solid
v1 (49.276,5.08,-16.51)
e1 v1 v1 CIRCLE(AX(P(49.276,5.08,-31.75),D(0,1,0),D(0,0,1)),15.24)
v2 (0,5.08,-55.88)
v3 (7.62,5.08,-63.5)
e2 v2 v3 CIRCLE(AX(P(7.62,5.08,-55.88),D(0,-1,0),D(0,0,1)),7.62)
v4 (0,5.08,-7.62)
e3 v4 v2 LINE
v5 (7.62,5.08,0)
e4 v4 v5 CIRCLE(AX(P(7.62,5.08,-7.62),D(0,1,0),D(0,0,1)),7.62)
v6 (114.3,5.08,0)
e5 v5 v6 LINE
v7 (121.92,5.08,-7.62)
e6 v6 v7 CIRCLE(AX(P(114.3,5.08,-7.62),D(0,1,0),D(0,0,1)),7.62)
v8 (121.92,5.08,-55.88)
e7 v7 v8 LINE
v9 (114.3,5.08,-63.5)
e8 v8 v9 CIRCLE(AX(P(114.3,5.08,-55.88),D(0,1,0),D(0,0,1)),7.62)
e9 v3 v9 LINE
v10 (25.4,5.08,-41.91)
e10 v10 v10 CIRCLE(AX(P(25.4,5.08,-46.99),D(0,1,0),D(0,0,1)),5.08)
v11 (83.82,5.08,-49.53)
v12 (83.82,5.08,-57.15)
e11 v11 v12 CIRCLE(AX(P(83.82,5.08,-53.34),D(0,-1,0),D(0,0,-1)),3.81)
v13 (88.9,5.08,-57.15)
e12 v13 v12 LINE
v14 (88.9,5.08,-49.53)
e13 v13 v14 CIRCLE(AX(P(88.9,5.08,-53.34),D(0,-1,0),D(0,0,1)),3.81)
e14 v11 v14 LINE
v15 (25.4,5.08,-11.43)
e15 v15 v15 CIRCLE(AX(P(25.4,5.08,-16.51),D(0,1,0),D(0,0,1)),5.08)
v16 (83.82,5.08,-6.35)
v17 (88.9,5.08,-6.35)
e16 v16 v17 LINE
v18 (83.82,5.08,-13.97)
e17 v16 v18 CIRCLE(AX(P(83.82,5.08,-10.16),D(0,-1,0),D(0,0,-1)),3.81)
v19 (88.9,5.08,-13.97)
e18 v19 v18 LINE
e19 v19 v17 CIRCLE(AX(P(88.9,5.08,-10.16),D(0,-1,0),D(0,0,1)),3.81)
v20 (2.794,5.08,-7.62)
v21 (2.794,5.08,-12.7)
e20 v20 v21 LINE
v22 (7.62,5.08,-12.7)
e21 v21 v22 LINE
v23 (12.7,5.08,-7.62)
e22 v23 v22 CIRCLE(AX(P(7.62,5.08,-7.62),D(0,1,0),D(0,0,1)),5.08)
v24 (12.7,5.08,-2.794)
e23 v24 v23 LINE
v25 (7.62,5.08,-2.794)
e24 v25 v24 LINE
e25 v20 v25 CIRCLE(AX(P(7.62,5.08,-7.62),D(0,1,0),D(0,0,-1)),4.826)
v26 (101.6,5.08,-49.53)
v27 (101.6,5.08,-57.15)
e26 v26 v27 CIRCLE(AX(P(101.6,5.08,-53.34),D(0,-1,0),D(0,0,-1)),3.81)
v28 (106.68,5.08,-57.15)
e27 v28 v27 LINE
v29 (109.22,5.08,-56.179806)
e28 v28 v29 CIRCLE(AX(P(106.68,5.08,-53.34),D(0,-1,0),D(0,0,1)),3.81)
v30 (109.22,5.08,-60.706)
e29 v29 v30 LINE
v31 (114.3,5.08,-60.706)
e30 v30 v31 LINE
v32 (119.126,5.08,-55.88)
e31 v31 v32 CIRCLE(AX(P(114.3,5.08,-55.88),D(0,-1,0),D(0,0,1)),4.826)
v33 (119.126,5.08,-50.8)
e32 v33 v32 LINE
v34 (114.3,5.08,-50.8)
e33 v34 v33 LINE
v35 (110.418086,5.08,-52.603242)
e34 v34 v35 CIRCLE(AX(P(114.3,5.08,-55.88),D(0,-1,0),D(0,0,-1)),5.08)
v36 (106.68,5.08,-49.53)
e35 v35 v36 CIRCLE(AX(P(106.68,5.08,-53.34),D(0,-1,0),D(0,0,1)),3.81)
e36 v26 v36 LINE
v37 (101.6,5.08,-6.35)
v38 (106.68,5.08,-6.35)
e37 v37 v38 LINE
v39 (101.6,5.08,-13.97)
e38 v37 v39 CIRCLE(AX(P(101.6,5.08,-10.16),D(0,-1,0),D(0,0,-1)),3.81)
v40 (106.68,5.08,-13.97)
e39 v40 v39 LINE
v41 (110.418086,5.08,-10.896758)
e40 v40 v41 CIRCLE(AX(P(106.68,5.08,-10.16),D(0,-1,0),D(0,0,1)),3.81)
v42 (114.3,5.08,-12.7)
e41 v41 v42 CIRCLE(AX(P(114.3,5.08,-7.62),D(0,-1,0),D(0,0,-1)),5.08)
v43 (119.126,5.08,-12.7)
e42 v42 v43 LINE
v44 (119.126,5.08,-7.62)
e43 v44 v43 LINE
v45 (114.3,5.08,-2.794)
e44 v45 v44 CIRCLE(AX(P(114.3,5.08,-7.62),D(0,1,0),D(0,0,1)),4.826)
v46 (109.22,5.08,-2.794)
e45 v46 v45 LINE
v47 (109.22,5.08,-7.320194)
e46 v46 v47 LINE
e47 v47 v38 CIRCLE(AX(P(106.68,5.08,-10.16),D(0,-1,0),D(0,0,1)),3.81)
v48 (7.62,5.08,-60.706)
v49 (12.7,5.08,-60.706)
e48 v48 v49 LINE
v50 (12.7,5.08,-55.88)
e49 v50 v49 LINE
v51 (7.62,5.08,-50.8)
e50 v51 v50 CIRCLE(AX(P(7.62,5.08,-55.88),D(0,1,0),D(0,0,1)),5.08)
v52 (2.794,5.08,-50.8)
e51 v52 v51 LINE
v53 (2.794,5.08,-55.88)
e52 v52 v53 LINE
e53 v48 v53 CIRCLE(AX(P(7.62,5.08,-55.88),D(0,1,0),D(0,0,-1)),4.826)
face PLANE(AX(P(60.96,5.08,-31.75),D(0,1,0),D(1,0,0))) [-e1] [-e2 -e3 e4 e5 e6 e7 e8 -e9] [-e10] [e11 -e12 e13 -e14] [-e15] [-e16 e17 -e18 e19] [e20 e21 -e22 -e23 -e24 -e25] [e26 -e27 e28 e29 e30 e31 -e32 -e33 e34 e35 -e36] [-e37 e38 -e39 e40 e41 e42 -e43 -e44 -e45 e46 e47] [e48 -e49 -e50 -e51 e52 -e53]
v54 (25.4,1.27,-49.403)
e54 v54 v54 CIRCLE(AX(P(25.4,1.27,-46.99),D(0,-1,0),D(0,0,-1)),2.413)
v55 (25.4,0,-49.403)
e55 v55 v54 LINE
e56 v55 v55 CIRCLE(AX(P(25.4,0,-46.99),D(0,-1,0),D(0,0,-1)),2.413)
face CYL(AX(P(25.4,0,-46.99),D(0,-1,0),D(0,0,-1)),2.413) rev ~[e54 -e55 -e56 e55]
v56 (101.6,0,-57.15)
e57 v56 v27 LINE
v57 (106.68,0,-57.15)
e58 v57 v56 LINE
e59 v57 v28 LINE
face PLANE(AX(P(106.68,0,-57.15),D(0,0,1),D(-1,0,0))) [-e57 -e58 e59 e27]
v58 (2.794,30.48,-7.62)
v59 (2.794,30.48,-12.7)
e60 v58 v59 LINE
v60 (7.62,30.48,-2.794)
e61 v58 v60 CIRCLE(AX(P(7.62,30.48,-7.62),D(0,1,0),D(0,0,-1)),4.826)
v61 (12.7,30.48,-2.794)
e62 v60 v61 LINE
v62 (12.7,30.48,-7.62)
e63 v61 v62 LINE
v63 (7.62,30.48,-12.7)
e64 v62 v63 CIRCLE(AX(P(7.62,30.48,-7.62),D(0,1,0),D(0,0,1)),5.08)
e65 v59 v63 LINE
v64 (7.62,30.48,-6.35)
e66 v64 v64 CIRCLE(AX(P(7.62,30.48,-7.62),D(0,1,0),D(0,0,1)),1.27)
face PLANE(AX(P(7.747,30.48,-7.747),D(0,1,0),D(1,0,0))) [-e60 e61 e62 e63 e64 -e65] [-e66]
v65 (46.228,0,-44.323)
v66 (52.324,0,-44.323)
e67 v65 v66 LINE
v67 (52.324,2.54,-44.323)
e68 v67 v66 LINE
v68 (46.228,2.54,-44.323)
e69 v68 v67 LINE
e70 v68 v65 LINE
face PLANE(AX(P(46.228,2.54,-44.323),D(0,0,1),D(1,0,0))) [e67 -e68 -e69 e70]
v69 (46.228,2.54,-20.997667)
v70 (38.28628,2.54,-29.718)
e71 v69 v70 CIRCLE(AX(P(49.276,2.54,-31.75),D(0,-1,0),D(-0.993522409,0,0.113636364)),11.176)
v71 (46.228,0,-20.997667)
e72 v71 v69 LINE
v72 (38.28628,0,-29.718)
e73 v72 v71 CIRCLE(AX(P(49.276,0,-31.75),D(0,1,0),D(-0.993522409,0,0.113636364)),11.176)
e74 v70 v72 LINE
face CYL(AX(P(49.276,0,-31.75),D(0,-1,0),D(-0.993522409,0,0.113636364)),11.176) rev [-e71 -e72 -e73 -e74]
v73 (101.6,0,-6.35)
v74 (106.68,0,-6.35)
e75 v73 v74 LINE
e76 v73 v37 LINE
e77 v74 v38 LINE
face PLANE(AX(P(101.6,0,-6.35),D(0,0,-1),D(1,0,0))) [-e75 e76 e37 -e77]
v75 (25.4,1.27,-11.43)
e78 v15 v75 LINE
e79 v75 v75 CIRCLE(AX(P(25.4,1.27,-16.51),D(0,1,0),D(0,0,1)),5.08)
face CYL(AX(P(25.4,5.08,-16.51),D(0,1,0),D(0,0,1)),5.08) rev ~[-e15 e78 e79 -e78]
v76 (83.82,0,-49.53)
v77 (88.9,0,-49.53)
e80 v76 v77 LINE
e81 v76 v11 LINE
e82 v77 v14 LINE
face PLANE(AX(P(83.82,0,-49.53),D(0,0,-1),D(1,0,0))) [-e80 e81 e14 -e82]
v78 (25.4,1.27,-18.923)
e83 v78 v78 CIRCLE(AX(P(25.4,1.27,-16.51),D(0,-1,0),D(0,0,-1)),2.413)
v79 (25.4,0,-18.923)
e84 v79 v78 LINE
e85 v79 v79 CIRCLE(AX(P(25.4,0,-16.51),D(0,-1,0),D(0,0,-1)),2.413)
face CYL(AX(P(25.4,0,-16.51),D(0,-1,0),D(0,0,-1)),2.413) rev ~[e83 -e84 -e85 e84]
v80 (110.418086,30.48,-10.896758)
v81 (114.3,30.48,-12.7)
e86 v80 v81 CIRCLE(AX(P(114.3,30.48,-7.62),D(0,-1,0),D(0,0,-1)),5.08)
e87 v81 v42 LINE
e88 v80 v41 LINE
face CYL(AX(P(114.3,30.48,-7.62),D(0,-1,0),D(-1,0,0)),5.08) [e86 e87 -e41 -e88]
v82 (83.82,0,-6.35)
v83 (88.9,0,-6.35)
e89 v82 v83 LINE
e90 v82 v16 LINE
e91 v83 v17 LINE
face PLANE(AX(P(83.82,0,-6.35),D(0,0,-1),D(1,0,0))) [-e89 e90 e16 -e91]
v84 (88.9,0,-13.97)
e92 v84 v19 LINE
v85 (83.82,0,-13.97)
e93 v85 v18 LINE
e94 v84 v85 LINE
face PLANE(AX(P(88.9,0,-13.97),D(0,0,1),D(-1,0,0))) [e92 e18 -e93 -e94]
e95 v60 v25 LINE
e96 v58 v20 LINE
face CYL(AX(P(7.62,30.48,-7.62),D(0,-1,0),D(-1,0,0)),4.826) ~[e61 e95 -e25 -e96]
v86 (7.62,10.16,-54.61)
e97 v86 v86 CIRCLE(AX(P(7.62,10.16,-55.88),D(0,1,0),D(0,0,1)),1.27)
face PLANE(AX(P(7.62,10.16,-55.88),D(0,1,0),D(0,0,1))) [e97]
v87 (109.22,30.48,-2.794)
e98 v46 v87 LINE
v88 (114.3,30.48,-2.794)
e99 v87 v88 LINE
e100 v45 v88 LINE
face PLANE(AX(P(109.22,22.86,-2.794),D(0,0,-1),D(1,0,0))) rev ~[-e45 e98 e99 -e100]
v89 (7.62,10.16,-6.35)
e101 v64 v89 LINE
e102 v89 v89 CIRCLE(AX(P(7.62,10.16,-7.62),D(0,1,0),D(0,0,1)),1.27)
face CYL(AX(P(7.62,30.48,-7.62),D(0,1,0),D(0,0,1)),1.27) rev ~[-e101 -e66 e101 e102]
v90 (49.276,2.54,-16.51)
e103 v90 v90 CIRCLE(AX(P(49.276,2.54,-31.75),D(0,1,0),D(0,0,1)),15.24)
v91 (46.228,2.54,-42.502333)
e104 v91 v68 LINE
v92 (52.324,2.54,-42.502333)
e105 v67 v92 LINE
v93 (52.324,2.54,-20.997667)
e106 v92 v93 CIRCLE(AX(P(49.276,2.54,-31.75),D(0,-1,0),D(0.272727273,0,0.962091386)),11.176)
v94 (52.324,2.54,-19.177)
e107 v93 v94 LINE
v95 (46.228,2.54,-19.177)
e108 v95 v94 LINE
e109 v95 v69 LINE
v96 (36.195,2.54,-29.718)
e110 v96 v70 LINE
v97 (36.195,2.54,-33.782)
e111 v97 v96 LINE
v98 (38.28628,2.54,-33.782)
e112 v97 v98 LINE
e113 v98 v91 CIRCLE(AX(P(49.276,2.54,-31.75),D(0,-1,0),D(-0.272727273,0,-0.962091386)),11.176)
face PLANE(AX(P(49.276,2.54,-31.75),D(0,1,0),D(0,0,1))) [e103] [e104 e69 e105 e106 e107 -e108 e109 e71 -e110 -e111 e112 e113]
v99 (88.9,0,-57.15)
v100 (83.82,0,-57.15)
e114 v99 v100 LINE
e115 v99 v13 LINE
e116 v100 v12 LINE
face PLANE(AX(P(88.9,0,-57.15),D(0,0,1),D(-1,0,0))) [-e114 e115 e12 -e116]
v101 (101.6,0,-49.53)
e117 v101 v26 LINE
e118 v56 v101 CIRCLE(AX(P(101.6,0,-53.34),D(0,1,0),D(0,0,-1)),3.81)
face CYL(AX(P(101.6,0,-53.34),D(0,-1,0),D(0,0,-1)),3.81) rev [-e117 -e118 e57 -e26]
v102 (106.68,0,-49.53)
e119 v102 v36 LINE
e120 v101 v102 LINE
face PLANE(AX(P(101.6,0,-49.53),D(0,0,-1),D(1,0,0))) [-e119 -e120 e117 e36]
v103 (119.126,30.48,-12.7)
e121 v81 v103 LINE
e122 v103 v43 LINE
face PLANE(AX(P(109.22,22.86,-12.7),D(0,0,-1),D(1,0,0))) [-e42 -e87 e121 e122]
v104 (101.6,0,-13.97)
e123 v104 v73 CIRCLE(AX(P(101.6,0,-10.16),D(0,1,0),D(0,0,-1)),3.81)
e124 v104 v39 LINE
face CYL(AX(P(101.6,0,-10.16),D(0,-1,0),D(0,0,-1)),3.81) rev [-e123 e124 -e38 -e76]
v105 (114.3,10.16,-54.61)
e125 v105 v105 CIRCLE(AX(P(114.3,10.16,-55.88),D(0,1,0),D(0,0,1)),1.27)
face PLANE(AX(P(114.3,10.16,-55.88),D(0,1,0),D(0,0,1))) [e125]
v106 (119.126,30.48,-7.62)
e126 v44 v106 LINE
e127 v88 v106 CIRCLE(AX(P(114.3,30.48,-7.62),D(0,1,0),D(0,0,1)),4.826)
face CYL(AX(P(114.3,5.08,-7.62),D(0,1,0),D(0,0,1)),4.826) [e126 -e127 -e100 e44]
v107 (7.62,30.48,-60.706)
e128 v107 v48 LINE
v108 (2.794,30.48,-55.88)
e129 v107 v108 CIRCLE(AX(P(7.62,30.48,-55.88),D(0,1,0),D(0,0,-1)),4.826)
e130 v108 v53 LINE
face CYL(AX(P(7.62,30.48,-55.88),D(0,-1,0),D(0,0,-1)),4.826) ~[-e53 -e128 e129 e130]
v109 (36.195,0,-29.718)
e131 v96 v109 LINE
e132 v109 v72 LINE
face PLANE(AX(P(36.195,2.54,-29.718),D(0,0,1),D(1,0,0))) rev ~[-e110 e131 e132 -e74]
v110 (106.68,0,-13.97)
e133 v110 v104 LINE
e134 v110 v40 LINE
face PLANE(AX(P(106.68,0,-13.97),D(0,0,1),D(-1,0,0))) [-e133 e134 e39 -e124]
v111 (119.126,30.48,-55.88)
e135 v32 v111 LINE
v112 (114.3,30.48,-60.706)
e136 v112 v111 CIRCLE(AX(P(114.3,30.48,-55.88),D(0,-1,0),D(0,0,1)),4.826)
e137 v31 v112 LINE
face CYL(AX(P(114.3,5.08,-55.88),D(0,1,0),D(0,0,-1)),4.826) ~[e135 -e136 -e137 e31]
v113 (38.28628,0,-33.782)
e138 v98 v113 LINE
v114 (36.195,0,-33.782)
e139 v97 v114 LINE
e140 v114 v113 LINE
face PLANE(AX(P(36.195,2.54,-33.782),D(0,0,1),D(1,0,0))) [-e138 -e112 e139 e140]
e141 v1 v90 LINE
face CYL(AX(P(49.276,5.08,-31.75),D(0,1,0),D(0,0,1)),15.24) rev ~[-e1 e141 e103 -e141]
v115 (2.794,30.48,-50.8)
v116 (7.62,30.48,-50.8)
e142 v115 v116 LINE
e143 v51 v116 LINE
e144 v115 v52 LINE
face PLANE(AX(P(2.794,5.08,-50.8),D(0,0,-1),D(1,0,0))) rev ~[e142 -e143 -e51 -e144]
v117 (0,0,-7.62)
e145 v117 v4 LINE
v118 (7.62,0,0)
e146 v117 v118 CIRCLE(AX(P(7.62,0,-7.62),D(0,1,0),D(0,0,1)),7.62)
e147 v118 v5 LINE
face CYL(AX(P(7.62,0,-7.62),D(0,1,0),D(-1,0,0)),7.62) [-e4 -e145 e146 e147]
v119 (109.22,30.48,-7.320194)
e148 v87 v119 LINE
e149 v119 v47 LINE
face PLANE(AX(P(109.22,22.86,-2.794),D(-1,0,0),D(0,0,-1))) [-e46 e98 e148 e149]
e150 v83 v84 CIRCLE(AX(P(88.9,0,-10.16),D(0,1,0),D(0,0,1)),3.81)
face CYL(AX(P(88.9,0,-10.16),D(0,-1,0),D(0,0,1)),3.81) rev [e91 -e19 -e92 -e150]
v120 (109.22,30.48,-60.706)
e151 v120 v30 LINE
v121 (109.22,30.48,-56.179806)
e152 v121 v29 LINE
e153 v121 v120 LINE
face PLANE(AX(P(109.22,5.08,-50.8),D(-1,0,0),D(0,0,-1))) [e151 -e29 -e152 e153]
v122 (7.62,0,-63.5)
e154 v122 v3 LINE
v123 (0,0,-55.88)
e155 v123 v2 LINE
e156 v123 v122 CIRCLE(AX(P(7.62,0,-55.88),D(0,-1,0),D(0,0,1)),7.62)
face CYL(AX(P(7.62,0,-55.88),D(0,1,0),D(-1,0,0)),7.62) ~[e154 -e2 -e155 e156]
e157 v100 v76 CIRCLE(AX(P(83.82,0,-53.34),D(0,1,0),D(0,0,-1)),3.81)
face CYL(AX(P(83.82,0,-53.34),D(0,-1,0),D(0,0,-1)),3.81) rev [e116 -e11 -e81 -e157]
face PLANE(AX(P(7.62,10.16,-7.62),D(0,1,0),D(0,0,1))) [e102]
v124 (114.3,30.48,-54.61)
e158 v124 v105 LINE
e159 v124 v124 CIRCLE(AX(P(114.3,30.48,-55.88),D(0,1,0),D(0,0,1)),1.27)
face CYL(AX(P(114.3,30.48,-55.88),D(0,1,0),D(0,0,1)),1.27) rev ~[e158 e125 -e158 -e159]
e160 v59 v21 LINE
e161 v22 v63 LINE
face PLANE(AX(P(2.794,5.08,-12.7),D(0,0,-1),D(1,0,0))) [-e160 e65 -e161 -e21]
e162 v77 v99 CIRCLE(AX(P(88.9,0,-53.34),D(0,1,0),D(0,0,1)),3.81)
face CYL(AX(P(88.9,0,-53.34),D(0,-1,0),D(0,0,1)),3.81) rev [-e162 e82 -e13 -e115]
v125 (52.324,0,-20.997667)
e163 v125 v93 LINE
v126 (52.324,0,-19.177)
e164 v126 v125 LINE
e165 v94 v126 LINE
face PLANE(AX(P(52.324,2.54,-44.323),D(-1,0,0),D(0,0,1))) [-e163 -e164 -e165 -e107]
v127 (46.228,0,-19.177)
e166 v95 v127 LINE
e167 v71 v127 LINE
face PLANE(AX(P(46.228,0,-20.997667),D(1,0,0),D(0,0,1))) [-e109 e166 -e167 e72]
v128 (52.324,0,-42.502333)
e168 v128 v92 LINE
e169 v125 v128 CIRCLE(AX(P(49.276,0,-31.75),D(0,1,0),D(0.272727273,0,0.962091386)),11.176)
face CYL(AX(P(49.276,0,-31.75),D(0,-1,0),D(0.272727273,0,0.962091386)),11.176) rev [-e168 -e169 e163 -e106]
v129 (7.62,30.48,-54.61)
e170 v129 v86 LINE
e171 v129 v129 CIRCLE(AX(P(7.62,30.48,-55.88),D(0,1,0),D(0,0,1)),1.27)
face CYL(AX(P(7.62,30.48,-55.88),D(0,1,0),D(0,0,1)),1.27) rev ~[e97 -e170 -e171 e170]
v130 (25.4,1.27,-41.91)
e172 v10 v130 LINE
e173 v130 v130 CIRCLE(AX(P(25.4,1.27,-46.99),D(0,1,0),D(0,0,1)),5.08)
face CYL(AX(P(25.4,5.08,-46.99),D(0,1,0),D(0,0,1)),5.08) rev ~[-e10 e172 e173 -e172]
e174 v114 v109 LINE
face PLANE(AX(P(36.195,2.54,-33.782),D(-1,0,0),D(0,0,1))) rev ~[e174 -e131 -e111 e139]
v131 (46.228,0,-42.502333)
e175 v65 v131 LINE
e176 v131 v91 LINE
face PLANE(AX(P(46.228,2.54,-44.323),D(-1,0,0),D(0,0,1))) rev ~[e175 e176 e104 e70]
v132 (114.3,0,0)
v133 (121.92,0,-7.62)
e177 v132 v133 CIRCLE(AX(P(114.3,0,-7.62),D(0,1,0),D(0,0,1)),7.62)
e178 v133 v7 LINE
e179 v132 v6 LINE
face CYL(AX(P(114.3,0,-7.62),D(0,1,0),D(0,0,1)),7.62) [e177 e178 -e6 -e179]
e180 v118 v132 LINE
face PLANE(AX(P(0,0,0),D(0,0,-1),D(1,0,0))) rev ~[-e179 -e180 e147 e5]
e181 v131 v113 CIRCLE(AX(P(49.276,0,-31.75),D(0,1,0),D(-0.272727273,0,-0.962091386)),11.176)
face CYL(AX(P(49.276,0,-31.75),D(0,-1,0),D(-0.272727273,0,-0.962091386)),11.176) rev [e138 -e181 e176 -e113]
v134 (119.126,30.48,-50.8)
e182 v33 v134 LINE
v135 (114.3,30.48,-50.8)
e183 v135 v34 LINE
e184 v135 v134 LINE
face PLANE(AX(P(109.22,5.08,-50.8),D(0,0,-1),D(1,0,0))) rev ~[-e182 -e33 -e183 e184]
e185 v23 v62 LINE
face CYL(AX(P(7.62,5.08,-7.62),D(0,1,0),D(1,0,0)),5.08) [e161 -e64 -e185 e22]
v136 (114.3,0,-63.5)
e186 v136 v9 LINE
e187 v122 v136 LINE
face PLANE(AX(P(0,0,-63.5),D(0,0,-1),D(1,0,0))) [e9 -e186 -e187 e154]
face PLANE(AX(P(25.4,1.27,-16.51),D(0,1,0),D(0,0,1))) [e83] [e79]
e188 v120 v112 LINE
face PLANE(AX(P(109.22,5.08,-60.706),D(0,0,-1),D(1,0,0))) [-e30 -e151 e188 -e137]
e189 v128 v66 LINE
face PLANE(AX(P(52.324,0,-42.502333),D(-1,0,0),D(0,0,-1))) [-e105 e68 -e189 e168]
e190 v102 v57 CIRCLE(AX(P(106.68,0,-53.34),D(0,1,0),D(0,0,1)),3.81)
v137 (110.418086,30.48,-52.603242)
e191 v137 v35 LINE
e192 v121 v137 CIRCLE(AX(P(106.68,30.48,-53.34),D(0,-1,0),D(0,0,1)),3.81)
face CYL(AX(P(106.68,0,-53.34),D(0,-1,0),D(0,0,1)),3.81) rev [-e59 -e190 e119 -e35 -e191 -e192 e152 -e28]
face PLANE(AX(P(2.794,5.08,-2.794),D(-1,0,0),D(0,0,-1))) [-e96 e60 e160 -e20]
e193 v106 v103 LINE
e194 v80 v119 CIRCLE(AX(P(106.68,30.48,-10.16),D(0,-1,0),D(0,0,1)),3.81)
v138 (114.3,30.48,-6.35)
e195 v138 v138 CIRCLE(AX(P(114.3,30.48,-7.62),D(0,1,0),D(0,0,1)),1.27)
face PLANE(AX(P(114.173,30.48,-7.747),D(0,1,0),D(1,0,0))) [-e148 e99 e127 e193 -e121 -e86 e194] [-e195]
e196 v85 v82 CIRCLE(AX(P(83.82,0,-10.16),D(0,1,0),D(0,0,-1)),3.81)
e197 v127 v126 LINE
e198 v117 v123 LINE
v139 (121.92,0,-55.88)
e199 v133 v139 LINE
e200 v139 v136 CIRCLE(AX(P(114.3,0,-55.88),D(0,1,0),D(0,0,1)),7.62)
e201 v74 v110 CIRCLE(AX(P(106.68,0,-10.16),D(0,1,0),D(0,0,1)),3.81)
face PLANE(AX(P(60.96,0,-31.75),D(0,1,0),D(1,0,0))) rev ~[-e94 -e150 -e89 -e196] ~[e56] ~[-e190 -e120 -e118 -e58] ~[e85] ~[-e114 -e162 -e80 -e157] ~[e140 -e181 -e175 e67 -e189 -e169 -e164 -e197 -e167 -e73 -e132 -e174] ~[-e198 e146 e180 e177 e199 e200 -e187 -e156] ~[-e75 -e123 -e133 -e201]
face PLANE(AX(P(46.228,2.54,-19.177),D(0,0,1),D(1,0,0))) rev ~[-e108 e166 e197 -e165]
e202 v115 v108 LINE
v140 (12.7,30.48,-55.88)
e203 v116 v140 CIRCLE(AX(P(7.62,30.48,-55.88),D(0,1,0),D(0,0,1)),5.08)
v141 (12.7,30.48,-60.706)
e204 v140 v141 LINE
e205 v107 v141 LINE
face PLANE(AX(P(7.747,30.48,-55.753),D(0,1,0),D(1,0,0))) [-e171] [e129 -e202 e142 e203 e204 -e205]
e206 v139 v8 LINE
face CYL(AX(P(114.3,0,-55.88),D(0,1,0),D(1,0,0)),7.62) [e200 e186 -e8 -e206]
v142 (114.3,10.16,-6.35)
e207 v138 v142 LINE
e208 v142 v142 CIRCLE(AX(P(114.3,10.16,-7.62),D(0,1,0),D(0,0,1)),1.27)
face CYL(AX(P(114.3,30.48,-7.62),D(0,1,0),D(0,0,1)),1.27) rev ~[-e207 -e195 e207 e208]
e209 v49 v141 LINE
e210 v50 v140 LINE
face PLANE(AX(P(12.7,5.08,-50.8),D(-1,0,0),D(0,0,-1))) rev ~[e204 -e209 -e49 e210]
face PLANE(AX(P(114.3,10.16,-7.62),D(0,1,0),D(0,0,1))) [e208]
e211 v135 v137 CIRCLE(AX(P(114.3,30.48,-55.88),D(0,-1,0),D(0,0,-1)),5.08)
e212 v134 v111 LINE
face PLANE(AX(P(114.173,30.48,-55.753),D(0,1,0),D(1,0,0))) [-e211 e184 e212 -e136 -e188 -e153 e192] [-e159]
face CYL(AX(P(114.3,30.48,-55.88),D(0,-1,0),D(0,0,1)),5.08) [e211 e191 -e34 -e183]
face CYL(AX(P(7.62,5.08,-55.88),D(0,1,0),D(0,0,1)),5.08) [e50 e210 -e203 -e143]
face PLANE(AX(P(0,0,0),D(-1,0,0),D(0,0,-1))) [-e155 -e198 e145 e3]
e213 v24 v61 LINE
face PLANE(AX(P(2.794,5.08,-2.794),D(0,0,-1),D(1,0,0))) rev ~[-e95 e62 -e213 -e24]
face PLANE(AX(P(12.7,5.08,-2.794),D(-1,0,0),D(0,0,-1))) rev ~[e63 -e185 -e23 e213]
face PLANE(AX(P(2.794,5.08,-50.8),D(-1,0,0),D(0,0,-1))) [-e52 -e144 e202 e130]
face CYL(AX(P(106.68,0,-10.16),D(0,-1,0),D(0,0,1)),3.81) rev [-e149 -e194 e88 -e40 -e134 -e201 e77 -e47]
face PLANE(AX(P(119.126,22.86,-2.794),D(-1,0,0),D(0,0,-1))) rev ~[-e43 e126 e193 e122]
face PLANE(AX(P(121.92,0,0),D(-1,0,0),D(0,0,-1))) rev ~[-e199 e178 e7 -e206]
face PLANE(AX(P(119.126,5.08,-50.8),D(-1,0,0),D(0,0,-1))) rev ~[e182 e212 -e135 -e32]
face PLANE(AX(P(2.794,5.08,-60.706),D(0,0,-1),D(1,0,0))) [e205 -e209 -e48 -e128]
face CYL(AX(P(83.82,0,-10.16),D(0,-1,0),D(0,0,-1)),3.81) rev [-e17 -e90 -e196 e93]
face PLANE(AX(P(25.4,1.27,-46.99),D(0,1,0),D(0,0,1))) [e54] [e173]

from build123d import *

# Parameters (mm, degrees)
SKETCH1_W           = 121.92
SKETCH1_H           = 63.5
BOSS_EXTRUDE1_DEPTH = 5.08
FILLET1_R           = 7.62
SKETCH2_W           = 9.906
SKETCH2_H           = 9.906
BOSS_EXTRUDE2_DEPTH = 22.86
CUT_EXTRUDE2_REACH  = 142.276
SKETCH5_R           = 10.9982
CUT_EXTRUDE3_REACH  = 142.276
SKETCH6_R           = 1.9939
SKETCH7_R           = 5.08
CUT_EXTRUDE4_DEPTH  = 3.81
SKETCH8_R           = 15.24
CUT_EXTRUDE5_DEPTH  = 2.54
CUT_EXTRUDE6_REACH  = 142.276
SKETCH9_R           = 2.159
CUT_EXTRUDE7_REACH  = 142.276
SKETCH11_W          = 143.390320112
SKETCH11_H          = 95.839563071
CUT_EXTRUDE8_DEPTH  = 5.08
SKETCH14_W          = 9.906
SKETCH14_H          = 9.906
BOSS_EXTRUDE4_DEPTH = 7.62
FILLET2_R           = 4.826
FILLET3_R           = 5.08
SKETCH15_R          = 1.27
CUT_EXTRUDE10_DEPTH = 20.32
CUT_EXTRUDE11_REACH = 142.804
SKETCH16_R          = 2.413
CUT_EXTRUDE12_START = -2.54
SKETCH17_W          = 6.096
SKETCH17_H          = 25.146
SKETCH17_W_2        = 2.38136189
SKETCH17_H_2        = 4.064
CUT_EXTRUDE12_DEPTH = 2.54
CUT_EXTRUDE13_REACH = 142.804


with BuildPart() as part:
    # Sketch1 → Boss-Extrude1 (new body)
    with BuildSketch(Plane(origin=(0, 0, 0), x_dir=(1, 0, 0), z_dir=(0, 1, 0))):
        with Locations((60.96, 31.75)):
            Rectangle(SKETCH1_W, SKETCH1_H)
    extrude(amount=BOSS_EXTRUDE1_DEPTH)

    # Fillet1
    fillet1_edges = [part.edges().sort_by_distance(p)[0] for p in [
        (0, 2.54, -63.5),
        (121.92, 2.54, -63.5),
        (121.92, 2.54, 0),
        (0, 2.54, 0),
    ]]
    fillet(fillet1_edges, radius=FILLET1_R)

    # Sketch2 → Boss-Extrude2 (add)
    with BuildSketch(Plane(origin=(0, 5.08, 0), x_dir=(1, 0, 0), z_dir=(0, 1, 0))):
        with Locations((7.747, 55.753)):
            Rectangle(SKETCH2_W, SKETCH2_H)
        with Locations((114.173, 55.753)):
            Rectangle(SKETCH2_W, SKETCH2_H)
        with Locations((114.173, 7.747)):
            Rectangle(SKETCH2_W, SKETCH2_H)
        with Locations((7.747, 7.747)):
            Rectangle(SKETCH2_W, SKETCH2_H)
    extrude(amount=BOSS_EXTRUDE2_DEPTH)

    # Sketch5 → Cut-Extrude2 (cut, up to next)
    with BuildSketch(Plane.XZ, mode=Mode.PRIVATE) as cut_extrude2_sk1:
        with Locations(Location((49.276, -31.75, 0), (0, 0, 270))):
            Circle(SKETCH5_R)
    cut_extrude2_tool1 = extrude(cut_extrude2_sk1.sketch, amount=-CUT_EXTRUDE2_REACH, mode=Mode.PRIVATE) & part.part
    add(cut_extrude2_tool1.solids().sort_by_distance((49.276, 0, -31.75))[0], mode=Mode.SUBTRACT)

    # Sketch6 → Cut-Extrude3 (cut, up to next)
    with BuildSketch(Plane.XZ, mode=Mode.PRIVATE) as cut_extrude3_sk1:
        with Locations(Location((25.4, -16.51, 0), (0, 0, 270))):
            Circle(SKETCH6_R)
    cut_extrude3_tool1 = extrude(cut_extrude3_sk1.sketch, amount=-CUT_EXTRUDE3_REACH, mode=Mode.PRIVATE) & part.part
    # Sketch6 → Cut-Extrude3 (cut, up to next)
    with BuildSketch(Plane.XZ, mode=Mode.PRIVATE) as cut_extrude3_sk2:
        with Locations(Location((25.4, -46.99, 0), (0, 0, 270))):
            Circle(SKETCH6_R)
    cut_extrude3_tool2 = extrude(cut_extrude3_sk2.sketch, amount=-CUT_EXTRUDE3_REACH, mode=Mode.PRIVATE) & part.part
    add(cut_extrude3_tool1.solids().sort_by_distance((25.4, 0, -16.51))[0], mode=Mode.SUBTRACT)
    add(cut_extrude3_tool2.solids().sort_by_distance((25.4, 0, -46.99))[0], mode=Mode.SUBTRACT)

    # Sketch7 → Cut-Extrude4 (cut)
    with BuildSketch(Plane(origin=(0, 5.08, 0), x_dir=(1, 0, 0), z_dir=(0, 1, 0))):
        with Locations(Location((25.4, 46.99, 0), (0, 0, 270))):
            Circle(SKETCH7_R)
        with Locations(Location((25.4, 16.51, 0), (0, 0, 270))):
            Circle(SKETCH7_R)
    extrude(amount=-CUT_EXTRUDE4_DEPTH, mode=Mode.SUBTRACT)

    # Sketch8 → Cut-Extrude5 (cut)
    with BuildSketch(Plane(origin=(0, 5.08, 0), x_dir=(1, 0, 0), z_dir=(0, 1, 0))):
        with Locations(Location((49.276, 31.75, 0), (0, 0, 270))):
            Circle(SKETCH8_R)
    extrude(amount=-CUT_EXTRUDE5_DEPTH, mode=Mode.SUBTRACT)

    # Sketch9 → Cut-Extrude6 (cut, up to next)
    with BuildSketch(Plane.XZ, mode=Mode.PRIVATE) as cut_extrude6_sk1:
        with Locations(Location((25.4, -16.51, 0), (0, 0, 270))):
            Circle(SKETCH9_R)
    cut_extrude6_tool1 = extrude(cut_extrude6_sk1.sketch, amount=-CUT_EXTRUDE6_REACH, mode=Mode.PRIVATE) & part.part
    # Sketch9 → Cut-Extrude6 (cut, up to next)
    with BuildSketch(Plane.XZ, mode=Mode.PRIVATE) as cut_extrude6_sk2:
        with Locations(Location((25.4, -46.99, 0), (0, 0, 270))):
            Circle(SKETCH9_R)
    cut_extrude6_tool2 = extrude(cut_extrude6_sk2.sketch, amount=-CUT_EXTRUDE6_REACH, mode=Mode.PRIVATE) & part.part
    add(cut_extrude6_tool1.solids().sort_by_distance((25.4, 0, -16.51))[0], mode=Mode.SUBTRACT)
    add(cut_extrude6_tool2.solids().sort_by_distance((25.4, 0, -46.99))[0], mode=Mode.SUBTRACT)

    # Sketch10 → Cut-Extrude7 (cut, up to next)
    with BuildSketch(Plane.XZ, mode=Mode.PRIVATE) as cut_extrude7_sk1:
        with BuildLine():
            Line((52.324, -42.502333328), (52.324, -43.561))
            Line((52.324, -43.561), (46.228, -43.561))
            Line((46.228, -43.561), (46.228, -42.502333328))
            ThreePointArc((46.228, -42.502333328), (40.758626429, -38.985836057), (38.172393559, -33.02))
            Line((38.172393559, -33.02), (36.957, -33.02))
            Line((36.957, -33.02), (36.957, -30.48))
            Line((36.957, -30.48), (38.172393559, -30.48))
            ThreePointArc((38.172393559, -30.48), (40.758626429, -24.514163943), (46.228, -20.997666672))
            Line((46.228, -20.997666672), (46.228, -19.939))
            Line((46.228, -19.939), (52.324, -19.939))
            Line((52.324, -19.939), (52.324, -20.997666672))
            ThreePointArc((52.324, -20.997666672), (60.452, -31.75), (52.324, -42.502333328))
        make_face()
    cut_extrude7_tool1 = extrude(cut_extrude7_sk1.sketch, amount=-CUT_EXTRUDE7_REACH, mode=Mode.PRIVATE) & part.part
    add(cut_extrude7_tool1.solids().sort_by_distance((49.190062, 0, -31.75))[0], mode=Mode.SUBTRACT)

    # Sketch11 → Cut-Extrude8 (cut)
    with BuildSketch(Plane(origin=(0, 27.94, 0), x_dir=(1, 0, 0), z_dir=(0, 1, 0))):
        with Locations((59.888985007, 35.781035454)):
            Rectangle(SKETCH11_W, SKETCH11_H)
    extrude(amount=-CUT_EXTRUDE8_DEPTH, mode=Mode.SUBTRACT)

    # Sketch14 → Boss-Extrude4 (add)
    with BuildSketch(Plane(origin=(0, 22.86, 0), x_dir=(1, 0, 0), z_dir=(0, 1, 0))):
        with Locations((114.173, 7.747)):
            Rectangle(SKETCH14_W, SKETCH14_H)
        with Locations((7.747, 7.747)):
            Rectangle(SKETCH14_W, SKETCH14_H)
        with Locations((114.173, 55.753)):
            Rectangle(SKETCH14_W, SKETCH14_H)
        with Locations((7.747, 55.753)):
            Rectangle(SKETCH14_W, SKETCH14_H)
    extrude(amount=BOSS_EXTRUDE4_DEPTH)

    # Fillet2
    fillet2_edges = [part.edges().sort_by_distance(p)[0] for p in [
        (2.794, 17.78, -2.794),
        (119.126, 17.78, -2.794),
        (119.126, 17.78, -60.706),
        (2.794, 17.78, -60.706),
    ]]
    fillet(fillet2_edges, radius=FILLET2_R)

    # Fillet3
    fillet3_edges = [part.edges().sort_by_distance(p)[0] for p in [
        (12.7, 17.78, -12.7),
        (109.22, 17.78, -12.7),
        (109.22, 17.78, -50.8),
        (12.7, 17.78, -50.8),
    ]]
    fillet(fillet3_edges, radius=FILLET3_R)

    # Sketch15 → Cut-Extrude10 (cut)
    with BuildSketch(Plane(origin=(0, 30.48, 0), x_dir=(1, 0, 0), z_dir=(0, 1, 0))):
        with Locations(Location((114.3, 7.62, 0), (0, 0, 270))):
            Circle(SKETCH15_R)
        with Locations(Location((7.62, 7.62, 0), (0, 0, 270))):
            Circle(SKETCH15_R)
        with Locations(Location((114.3, 55.88, 0), (0, 0, 270))):
            Circle(SKETCH15_R)
        with Locations(Location((7.62, 55.88, 0), (0, 0, 270))):
            Circle(SKETCH15_R)
    extrude(amount=-CUT_EXTRUDE10_DEPTH, mode=Mode.SUBTRACT)

    # Sketch16 → Cut-Extrude11 (cut, up to next)
    with BuildSketch(Plane.XZ, mode=Mode.PRIVATE) as cut_extrude11_sk1:
        with Locations(Location((25.4, -16.51, 0), (0, 0, 270))):
            Circle(SKETCH16_R)
    cut_extrude11_tool1 = extrude(cut_extrude11_sk1.sketch, amount=-CUT_EXTRUDE11_REACH, mode=Mode.PRIVATE) & part.part
    # Sketch16 → Cut-Extrude11 (cut, up to next)
    with BuildSketch(Plane.XZ, mode=Mode.PRIVATE) as cut_extrude11_sk2:
        with Locations(Location((25.4, -46.99, 0), (0, 0, 270))):
            Circle(SKETCH16_R)
    cut_extrude11_tool2 = extrude(cut_extrude11_sk2.sketch, amount=-CUT_EXTRUDE11_REACH, mode=Mode.PRIVATE) & part.part
    add(cut_extrude11_tool1.solids().sort_by_distance((25.4, 0, -16.51))[0], mode=Mode.SUBTRACT)
    add(cut_extrude11_tool2.solids().sort_by_distance((25.4, 0, -46.99))[0], mode=Mode.SUBTRACT)

    # Sketch17 → Cut-Extrude12 (cut)
    with BuildSketch(Plane.XZ.offset(CUT_EXTRUDE12_START)):
        with Locations((49.276, -31.75)):
            Rectangle(SKETCH17_W, SKETCH17_H)
        with Locations((37.385680945, -31.75)):
            Rectangle(SKETCH17_W_2, SKETCH17_H_2)
    extrude(amount=CUT_EXTRUDE12_DEPTH, mode=Mode.SUBTRACT)

    # Sketch18 → Cut-Extrude13 (cut, up to next)
    with BuildSketch(Plane.XZ, mode=Mode.PRIVATE) as cut_extrude13_sk1:
        with BuildLine():
            Line((106.68, -13.97), (101.6, -13.97))
            ThreePointArc((101.6, -13.97), (97.79, -10.16), (101.6, -6.35))
            Line((101.6, -6.35), (106.68, -6.35))
            ThreePointArc((106.68, -6.35), (110.49, -10.16), (106.68, -13.97))
        make_face()
    cut_extrude13_tool1 = extrude(cut_extrude13_sk1.sketch, amount=-CUT_EXTRUDE13_REACH, mode=Mode.PRIVATE) & part.part
    # Sketch18 → Cut-Extrude13 (cut, up to next)
    with BuildSketch(Plane.XZ, mode=Mode.PRIVATE) as cut_extrude13_sk2:
        with BuildLine():
            Line((88.9, -13.97), (83.82, -13.97))
            ThreePointArc((83.82, -13.97), (80.01, -10.16), (83.82, -6.35))
            Line((83.82, -6.35), (88.9, -6.35))
            ThreePointArc((88.9, -6.35), (92.71, -10.16), (88.9, -13.97))
        make_face()
    cut_extrude13_tool2 = extrude(cut_extrude13_sk2.sketch, amount=-CUT_EXTRUDE13_REACH, mode=Mode.PRIVATE) & part.part
    # Sketch18 → Cut-Extrude13 (cut, up to next)
    with BuildSketch(Plane.XZ, mode=Mode.PRIVATE) as cut_extrude13_sk3:
        with BuildLine():
            Line((88.9, -57.15), (83.82, -57.15))
            ThreePointArc((83.82, -57.15), (80.01, -53.34), (83.82, -49.53))
            Line((83.82, -49.53), (88.9, -49.53))
            ThreePointArc((88.9, -49.53), (92.71, -53.34), (88.9, -57.15))
        make_face()
    cut_extrude13_tool3 = extrude(cut_extrude13_sk3.sketch, amount=-CUT_EXTRUDE13_REACH, mode=Mode.PRIVATE) & part.part
    # Sketch18 → Cut-Extrude13 (cut, up to next)
    with BuildSketch(Plane.XZ, mode=Mode.PRIVATE) as cut_extrude13_sk4:
        with BuildLine():
            Line((106.68, -57.15), (101.6, -57.15))
            ThreePointArc((101.6, -57.15), (97.79, -53.34), (101.6, -49.53))
            Line((101.6, -49.53), (106.68, -49.53))
            ThreePointArc((106.68, -49.53), (110.49, -53.34), (106.68, -57.15))
        make_face()
    cut_extrude13_tool4 = extrude(cut_extrude13_sk4.sketch, amount=-CUT_EXTRUDE13_REACH, mode=Mode.PRIVATE) & part.part
    add(cut_extrude13_tool1.solids().sort_by_distance((104.14, 0, -10.16))[0], mode=Mode.SUBTRACT)
    add(cut_extrude13_tool2.solids().sort_by_distance((86.36, 0, -10.16))[0], mode=Mode.SUBTRACT)
    add(cut_extrude13_tool3.solids().sort_by_distance((86.36, 0, -53.34))[0], mode=Mode.SUBTRACT)
    add(cut_extrude13_tool4.solids().sort_by_distance((104.14, 0, -53.34))[0], mode=Mode.SUBTRACT)


solid = part.part
